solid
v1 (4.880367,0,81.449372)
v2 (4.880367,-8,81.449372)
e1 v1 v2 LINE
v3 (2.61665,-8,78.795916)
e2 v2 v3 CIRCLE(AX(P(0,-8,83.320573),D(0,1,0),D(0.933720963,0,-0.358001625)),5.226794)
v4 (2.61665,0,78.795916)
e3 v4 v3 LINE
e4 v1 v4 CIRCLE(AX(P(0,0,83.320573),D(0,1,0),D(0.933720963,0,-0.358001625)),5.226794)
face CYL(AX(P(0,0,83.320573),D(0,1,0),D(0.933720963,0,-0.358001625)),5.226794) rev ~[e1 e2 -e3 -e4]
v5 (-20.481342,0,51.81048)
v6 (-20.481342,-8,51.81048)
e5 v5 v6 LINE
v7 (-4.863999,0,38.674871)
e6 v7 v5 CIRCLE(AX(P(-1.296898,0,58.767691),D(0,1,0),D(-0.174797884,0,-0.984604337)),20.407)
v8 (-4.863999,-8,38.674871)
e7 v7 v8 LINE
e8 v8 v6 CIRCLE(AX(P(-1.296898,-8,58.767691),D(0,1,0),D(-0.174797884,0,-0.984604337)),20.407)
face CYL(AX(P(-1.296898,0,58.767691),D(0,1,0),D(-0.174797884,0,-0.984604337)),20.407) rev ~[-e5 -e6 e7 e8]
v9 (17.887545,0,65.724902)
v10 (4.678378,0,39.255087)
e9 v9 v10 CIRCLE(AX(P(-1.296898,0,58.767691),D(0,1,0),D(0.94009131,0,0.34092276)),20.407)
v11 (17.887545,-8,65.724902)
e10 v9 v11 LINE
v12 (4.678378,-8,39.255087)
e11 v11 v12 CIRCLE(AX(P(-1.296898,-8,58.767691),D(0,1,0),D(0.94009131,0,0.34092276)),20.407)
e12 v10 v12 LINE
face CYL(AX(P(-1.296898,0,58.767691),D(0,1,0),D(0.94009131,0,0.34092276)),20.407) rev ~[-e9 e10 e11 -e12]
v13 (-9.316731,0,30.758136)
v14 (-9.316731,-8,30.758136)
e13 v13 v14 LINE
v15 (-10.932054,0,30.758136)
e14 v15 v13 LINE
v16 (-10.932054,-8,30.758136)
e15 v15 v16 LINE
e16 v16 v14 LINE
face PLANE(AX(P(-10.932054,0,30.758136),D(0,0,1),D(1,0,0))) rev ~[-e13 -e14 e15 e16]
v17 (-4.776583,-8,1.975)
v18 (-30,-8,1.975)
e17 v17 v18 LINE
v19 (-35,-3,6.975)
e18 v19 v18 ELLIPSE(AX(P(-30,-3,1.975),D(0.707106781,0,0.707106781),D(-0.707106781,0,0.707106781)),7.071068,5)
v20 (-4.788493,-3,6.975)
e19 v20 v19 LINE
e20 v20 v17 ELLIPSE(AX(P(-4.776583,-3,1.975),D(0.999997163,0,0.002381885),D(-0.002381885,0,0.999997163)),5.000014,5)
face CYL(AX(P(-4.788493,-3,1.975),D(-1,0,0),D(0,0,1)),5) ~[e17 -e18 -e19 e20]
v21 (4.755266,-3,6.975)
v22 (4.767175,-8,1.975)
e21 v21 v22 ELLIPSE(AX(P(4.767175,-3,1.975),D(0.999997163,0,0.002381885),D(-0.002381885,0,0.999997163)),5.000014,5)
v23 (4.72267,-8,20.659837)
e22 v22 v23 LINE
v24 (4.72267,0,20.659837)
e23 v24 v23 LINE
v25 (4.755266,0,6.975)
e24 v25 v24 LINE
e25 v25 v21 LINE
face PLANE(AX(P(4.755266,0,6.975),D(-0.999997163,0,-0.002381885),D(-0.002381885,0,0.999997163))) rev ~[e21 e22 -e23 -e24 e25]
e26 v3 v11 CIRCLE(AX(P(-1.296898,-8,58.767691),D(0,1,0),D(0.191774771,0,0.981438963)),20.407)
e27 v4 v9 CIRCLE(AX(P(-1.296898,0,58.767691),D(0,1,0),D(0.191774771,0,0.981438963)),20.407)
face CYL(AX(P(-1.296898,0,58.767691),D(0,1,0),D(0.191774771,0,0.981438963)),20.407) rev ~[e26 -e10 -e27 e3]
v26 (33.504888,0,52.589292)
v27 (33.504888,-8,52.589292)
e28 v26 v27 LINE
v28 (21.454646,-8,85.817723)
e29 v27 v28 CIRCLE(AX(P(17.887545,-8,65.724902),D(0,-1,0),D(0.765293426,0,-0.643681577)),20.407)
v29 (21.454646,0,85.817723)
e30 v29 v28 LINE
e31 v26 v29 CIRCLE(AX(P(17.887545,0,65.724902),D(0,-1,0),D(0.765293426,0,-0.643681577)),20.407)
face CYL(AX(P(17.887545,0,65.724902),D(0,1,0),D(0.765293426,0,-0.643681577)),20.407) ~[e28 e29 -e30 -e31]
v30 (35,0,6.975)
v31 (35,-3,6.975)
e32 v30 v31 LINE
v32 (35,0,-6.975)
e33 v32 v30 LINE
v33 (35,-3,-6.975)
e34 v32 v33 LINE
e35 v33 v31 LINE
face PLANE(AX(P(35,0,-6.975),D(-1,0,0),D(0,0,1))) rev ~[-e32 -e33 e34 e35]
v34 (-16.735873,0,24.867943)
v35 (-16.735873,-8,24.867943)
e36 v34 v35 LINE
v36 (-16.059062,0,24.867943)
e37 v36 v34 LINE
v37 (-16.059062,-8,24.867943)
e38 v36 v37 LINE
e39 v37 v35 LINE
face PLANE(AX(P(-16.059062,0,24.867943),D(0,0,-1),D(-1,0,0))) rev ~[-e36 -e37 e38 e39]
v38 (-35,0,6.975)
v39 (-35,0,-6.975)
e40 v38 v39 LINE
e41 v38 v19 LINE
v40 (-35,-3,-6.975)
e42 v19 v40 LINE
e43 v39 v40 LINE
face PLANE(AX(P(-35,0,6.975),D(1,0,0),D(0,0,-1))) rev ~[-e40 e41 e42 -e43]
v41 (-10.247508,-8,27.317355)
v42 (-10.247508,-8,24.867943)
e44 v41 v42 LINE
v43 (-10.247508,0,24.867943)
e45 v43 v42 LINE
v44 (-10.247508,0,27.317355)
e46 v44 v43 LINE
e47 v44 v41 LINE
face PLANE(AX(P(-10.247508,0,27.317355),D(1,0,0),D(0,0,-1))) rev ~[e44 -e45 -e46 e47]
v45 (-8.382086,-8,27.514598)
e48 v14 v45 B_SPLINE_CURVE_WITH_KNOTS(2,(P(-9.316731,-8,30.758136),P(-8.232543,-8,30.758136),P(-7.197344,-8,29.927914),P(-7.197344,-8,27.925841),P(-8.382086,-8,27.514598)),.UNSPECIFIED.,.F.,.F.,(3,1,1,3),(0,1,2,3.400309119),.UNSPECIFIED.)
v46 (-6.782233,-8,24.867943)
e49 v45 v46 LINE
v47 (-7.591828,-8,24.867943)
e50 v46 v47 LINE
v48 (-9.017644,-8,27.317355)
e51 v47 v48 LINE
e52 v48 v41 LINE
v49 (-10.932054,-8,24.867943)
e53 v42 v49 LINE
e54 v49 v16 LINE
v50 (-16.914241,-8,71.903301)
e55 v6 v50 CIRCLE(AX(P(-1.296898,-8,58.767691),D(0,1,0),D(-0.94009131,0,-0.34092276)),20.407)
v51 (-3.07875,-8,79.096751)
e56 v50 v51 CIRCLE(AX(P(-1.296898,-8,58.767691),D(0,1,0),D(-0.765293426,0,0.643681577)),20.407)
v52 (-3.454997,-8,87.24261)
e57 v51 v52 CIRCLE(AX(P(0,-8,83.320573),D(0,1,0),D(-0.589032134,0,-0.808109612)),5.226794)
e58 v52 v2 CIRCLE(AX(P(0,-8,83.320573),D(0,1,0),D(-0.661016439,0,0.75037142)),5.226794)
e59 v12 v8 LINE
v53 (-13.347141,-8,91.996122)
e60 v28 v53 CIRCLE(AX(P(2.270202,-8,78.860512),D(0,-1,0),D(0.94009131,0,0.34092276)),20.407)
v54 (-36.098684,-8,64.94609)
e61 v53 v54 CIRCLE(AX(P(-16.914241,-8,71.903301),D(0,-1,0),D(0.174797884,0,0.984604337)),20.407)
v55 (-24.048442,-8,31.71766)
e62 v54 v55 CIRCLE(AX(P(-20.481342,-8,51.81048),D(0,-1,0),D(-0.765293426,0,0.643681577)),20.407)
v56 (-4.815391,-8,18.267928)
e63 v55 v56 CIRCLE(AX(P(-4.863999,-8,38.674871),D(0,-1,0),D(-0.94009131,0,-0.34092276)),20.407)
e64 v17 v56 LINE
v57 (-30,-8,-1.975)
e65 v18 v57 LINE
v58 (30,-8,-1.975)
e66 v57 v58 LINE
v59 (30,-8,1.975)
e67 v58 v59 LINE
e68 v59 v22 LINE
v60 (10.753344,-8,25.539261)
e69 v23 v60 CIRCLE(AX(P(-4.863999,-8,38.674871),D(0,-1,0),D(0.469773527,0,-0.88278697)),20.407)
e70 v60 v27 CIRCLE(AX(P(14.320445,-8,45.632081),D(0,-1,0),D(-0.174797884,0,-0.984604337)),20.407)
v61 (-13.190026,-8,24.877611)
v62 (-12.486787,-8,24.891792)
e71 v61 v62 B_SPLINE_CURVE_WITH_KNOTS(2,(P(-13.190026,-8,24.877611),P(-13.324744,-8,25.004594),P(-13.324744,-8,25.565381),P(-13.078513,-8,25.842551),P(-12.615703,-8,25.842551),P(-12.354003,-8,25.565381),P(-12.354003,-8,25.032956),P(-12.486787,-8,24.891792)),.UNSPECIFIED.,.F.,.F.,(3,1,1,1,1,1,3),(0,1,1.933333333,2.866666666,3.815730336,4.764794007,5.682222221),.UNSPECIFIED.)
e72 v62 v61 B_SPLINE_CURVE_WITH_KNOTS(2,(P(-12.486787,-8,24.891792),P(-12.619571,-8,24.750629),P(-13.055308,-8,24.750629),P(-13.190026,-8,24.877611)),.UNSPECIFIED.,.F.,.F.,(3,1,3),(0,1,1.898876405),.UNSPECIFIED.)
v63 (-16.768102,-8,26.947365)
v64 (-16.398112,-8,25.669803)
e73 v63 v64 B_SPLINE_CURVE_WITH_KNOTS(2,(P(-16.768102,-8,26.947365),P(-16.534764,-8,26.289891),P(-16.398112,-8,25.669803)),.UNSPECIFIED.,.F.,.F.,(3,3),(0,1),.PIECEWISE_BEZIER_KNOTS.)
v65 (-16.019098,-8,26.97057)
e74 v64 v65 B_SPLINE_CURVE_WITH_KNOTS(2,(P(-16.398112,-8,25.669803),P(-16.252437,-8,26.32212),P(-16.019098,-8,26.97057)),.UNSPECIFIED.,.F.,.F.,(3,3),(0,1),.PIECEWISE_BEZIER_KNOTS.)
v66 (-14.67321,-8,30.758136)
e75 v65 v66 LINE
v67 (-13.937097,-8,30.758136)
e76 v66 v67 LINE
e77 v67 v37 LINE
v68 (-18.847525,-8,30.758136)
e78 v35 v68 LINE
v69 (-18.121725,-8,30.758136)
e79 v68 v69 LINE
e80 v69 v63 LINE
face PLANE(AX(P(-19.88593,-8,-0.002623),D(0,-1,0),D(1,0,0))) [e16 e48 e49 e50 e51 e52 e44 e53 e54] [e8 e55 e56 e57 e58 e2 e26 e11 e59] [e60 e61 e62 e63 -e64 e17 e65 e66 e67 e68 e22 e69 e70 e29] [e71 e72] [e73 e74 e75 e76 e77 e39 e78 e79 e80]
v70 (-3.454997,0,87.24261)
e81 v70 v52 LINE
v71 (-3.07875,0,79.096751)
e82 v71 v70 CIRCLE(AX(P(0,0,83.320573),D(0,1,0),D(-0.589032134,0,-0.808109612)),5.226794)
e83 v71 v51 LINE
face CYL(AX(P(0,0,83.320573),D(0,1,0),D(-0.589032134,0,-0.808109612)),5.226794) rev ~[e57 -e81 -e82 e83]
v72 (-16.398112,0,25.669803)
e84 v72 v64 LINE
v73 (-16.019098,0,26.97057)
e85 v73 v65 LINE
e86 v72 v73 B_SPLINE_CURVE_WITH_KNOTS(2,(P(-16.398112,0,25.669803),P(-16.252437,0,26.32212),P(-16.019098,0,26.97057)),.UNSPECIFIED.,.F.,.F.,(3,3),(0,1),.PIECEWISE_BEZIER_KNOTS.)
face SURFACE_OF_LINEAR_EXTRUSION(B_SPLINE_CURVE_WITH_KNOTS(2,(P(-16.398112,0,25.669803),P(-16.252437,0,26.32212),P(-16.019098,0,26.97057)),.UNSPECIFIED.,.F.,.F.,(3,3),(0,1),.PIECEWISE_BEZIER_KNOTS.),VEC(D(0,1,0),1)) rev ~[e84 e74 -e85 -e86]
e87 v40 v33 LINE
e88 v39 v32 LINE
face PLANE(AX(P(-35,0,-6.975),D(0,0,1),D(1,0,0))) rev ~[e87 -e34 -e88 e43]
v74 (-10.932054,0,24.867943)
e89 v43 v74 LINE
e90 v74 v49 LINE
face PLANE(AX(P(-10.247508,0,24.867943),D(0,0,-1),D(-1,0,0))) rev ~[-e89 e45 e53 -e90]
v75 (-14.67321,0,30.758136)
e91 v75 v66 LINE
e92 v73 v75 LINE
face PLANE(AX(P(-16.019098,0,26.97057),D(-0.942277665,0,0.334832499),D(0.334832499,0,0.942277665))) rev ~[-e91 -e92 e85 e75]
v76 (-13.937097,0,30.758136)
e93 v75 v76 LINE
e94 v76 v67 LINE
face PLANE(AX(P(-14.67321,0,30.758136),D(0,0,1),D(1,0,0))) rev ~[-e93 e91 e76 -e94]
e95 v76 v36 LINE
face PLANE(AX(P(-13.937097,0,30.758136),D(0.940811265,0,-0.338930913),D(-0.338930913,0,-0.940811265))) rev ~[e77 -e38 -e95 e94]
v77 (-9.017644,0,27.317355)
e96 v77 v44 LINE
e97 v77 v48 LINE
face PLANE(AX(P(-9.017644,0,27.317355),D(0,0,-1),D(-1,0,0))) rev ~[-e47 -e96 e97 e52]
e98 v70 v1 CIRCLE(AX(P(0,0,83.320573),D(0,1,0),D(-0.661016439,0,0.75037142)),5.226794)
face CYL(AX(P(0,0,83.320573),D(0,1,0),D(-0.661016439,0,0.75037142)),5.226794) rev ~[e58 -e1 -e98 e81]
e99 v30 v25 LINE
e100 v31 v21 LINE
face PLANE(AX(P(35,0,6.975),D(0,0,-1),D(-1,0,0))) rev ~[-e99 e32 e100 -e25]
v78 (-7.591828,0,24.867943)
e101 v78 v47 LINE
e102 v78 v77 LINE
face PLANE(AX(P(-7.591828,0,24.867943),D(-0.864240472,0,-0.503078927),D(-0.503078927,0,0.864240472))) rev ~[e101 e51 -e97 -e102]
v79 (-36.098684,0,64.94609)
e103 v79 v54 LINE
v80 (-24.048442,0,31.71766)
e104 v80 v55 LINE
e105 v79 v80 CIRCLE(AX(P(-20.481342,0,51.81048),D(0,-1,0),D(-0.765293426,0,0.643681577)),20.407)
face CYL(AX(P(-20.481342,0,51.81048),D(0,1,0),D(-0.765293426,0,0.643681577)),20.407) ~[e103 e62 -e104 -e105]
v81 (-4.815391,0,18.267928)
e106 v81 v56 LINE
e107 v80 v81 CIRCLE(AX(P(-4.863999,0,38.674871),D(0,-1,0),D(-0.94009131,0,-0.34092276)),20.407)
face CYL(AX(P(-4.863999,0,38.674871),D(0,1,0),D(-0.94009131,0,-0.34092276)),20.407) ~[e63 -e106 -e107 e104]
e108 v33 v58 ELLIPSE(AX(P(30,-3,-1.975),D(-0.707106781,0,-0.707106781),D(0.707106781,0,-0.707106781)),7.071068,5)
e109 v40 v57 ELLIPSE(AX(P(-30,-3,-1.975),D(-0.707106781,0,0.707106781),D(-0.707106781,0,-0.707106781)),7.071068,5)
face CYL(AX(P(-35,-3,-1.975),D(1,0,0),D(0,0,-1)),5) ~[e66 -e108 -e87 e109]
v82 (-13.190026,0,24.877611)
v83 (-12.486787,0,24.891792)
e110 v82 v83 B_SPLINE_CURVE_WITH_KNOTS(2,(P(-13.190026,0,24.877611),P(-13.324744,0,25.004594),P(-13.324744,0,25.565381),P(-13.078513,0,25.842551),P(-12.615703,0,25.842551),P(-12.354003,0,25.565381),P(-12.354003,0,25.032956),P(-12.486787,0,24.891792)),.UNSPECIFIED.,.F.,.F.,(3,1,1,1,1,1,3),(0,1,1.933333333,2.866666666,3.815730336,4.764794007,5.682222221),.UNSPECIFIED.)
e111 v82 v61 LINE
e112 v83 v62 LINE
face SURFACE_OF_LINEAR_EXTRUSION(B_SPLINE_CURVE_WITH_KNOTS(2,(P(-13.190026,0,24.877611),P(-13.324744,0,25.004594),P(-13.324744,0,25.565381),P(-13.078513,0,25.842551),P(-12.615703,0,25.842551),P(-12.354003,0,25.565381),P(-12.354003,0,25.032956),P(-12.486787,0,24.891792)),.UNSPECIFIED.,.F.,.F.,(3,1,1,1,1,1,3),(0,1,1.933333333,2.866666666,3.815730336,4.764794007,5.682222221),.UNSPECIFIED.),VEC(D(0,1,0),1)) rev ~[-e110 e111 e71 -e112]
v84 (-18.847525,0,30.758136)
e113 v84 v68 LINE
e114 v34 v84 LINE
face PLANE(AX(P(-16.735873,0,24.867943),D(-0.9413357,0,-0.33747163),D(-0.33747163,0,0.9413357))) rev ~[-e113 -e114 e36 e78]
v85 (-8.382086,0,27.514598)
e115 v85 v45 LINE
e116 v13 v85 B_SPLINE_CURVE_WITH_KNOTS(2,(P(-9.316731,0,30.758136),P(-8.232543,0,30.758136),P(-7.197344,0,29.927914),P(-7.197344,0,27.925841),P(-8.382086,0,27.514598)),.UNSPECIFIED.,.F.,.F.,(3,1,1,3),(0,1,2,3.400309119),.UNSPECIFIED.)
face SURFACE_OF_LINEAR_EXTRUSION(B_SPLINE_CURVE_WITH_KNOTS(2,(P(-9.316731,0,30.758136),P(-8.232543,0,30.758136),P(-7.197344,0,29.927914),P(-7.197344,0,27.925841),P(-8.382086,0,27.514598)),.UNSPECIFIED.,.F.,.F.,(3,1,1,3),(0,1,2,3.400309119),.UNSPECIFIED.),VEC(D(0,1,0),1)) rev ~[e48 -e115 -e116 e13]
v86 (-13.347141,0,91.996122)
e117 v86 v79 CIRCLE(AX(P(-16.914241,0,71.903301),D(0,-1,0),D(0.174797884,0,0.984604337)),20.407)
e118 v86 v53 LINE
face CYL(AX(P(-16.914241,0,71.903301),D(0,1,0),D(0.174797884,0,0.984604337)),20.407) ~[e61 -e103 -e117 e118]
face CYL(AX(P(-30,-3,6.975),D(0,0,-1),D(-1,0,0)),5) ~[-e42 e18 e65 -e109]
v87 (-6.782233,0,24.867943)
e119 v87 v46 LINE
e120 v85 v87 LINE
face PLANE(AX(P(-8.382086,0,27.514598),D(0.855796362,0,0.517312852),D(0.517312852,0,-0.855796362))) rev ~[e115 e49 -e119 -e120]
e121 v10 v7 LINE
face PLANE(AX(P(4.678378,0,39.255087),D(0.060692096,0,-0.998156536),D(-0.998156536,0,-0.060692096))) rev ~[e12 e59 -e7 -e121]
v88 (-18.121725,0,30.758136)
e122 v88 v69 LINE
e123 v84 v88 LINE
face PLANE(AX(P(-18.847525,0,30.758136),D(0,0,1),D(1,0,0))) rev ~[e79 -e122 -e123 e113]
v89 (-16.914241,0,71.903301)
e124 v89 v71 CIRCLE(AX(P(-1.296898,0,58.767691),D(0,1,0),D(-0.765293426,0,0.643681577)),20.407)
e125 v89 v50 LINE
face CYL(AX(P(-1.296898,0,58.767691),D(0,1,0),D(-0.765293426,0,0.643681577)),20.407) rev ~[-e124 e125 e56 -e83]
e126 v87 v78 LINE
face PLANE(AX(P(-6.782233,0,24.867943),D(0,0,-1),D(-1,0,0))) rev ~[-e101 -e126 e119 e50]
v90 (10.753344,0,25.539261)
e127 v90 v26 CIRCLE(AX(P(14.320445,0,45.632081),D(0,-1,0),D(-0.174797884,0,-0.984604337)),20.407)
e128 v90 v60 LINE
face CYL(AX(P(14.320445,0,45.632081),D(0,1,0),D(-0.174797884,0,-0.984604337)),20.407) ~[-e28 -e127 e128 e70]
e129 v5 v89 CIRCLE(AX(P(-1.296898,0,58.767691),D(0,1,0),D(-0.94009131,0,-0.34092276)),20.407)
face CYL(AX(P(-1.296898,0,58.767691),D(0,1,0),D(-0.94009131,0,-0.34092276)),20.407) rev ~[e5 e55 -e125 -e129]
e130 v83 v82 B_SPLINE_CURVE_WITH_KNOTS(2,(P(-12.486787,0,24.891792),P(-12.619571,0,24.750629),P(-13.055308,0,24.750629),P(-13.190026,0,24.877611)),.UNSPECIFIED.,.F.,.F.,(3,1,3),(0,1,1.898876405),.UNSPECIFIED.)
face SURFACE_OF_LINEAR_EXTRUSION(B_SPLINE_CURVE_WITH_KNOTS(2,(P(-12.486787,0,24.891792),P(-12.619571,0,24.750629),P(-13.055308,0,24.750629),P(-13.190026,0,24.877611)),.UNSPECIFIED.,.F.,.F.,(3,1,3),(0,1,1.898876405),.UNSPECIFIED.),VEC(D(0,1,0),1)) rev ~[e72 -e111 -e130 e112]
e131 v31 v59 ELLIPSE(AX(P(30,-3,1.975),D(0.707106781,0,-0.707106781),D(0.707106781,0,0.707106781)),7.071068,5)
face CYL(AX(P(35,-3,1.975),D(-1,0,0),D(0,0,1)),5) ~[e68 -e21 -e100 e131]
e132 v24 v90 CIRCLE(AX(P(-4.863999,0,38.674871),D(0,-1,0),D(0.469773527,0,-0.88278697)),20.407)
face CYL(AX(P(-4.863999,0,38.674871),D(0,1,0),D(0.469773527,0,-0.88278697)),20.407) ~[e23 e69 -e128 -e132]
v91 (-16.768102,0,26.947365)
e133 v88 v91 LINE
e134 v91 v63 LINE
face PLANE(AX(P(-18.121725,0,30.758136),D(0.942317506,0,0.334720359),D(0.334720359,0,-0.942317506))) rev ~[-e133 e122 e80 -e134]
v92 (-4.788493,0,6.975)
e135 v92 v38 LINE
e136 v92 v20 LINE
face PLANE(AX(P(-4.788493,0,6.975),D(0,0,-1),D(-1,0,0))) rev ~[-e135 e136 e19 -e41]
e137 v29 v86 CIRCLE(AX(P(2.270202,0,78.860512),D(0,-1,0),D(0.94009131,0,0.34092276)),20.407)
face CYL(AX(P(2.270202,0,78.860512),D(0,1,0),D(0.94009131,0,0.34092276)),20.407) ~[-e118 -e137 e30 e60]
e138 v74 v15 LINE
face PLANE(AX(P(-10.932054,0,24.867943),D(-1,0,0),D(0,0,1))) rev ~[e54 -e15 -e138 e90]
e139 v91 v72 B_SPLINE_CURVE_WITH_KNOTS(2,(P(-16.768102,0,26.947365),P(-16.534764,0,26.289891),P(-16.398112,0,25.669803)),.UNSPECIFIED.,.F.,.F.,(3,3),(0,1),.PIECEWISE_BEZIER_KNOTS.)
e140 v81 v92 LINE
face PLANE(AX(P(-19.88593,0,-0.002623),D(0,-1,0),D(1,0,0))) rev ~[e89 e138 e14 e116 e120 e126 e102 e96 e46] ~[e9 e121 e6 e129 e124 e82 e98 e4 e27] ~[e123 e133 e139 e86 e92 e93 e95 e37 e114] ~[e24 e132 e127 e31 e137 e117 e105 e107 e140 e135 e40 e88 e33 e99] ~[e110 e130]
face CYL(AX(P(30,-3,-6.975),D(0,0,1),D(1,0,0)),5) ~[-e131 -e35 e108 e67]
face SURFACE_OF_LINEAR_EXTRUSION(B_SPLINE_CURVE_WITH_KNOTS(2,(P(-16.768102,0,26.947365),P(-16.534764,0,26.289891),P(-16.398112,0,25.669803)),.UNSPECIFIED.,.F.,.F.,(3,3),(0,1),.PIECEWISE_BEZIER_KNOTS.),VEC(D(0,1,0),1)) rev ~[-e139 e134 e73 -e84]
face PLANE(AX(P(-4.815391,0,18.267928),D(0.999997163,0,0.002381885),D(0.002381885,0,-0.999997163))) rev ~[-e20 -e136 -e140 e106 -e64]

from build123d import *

# Parameters (mm, degrees)
F1_DEPTH = 8
F2_R     = 5


with BuildPart() as f1:
    # F0 (on Front) → F1 (new body)
    with BuildSketch(Plane.XZ):
        Polygon((-4.7884929424, 6.975), (-35, 6.975), (-35, -6.975), (-4.7552655505, -6.975), align=None)
        with BuildLine():
            Line((-4.815391477, 18.2679283934), (-4.7884929424, 6.975))
            Line((-4.7884929424, 6.975), (4.7552655505, 6.975))
            Line((4.7552655505, 6.975), (4.7226697487, 20.6598368154))
            ThreePointArc((4.7226697487, 20.6598368154), (0.0998647972, 18.880787826), (-4.815391477, 18.2679283934))
        make_face()
        Polygon((4.7552655505, 6.975), (-4.7884929424, 6.975), (-4.7552655505, -6.975), (4.7884929424, -6.975), align=None)
        Polygon((35, 6.975), (4.7552655505, 6.975), (4.7884929424, -6.975), (35, -6.975), align=None)
        with BuildLine():
            ThreePointArc((-24.048441977, 31.7176597434), (-16.5588212007, 21.9513310022), (-4.815391477, 18.2679283934))
            Line((-4.815391477, 18.2679283934), (-4.863998607, 38.674870505))
            ThreePointArc((-4.863998607, 38.674870505), (-13.5241307894, 32.6260370701), (-24.048441977, 31.7176597434))
        make_face()
        with BuildLine():
            add(Edge.make_bspline(
                [(-13.1900259225, 24.8776112918), (-13.3247436315, 25.0045940128), (-13.3247436315, 25.2946560658)],
                knots=[0, 0, 0, 1, 1, 1], degree=2))
            add(Edge.make_bspline(
                [(-13.3247436315, 25.2946560658), (-13.3247436315, 25.5653806485), (-13.2016284046, 25.7039658516)],
                knots=[0, 0, 0, 1, 1, 1], degree=2))
            add(Edge.make_bspline(
                [(-13.2016284046, 25.7039658516), (-13.0785131777, 25.8425510547), (-12.8490418647, 25.8425510547)],
                knots=[0, 0, 0, 1, 1, 1], degree=2))
            add(Edge.make_bspline(
                [(-12.8490418647, 25.8425510547), (-12.6157030576, 25.8425510547), (-12.4848528426, 25.7039658516)],
                knots=[0, 0, 0, 1, 1, 1], degree=2))
            add(Edge.make_bspline(
                [(-12.4848528426, 25.7039658516), (-12.3540026276, 25.5653806485), (-12.3540026276, 25.2946560658)],
                knots=[0, 0, 0, 1, 1, 1], degree=2))
            add(Edge.make_bspline(
                [(-12.3540026276, 25.2946560658), (-12.3540026276, 25.0329556358), (-12.4867865897, 24.8917921033)],
                knots=[0, 0, 0, 1, 1, 1], degree=2))
            add(Edge.make_bspline(
                [(-12.4867865897, 24.8917921033), (-12.6195705517, 24.7506285709), (-12.8490418647, 24.7506285709)],
                knots=[0, 0, 0, 1, 1, 1], degree=2))
            add(Edge.make_bspline(
                [(-12.8490418647, 24.7506285709), (-13.0553082135, 24.7506285709), (-13.1900259225, 24.8776112918)],
                knots=[0, 0, 0, 1, 1, 1], degree=2))
        make_face(mode=Mode.SUBTRACT)
        with BuildLine():
            Line((-16.0190978123, 26.9705701495), (-14.6732098866, 30.7581359787))
            Line((-14.6732098866, 30.7581359787), (-13.9370968544, 30.7581359787))
            Line((-13.9370968544, 30.7581359787), (-16.0590619174, 24.8679425567))
            Line((-16.0590619174, 24.8679425567), (-16.7358733743, 24.8679425567))
            Line((-16.7358733743, 24.8679425567), (-18.8475251198, 30.7581359787))
            Line((-18.8475251198, 30.7581359787), (-18.1217254051, 30.7581359787))
            Line((-18.1217254051, 30.7581359787), (-16.7681024913, 26.9473651853))
            add(Edge.make_bspline(
                [(-16.7681024913, 26.9473651853), (-16.5347636842, 26.2898911986), (-16.3981122282, 25.6698029876)],
                knots=[0, 0, 0, 1, 1, 1], degree=2))
            add(Edge.make_bspline(
                [(-16.3981122282, 25.6698029876), (-16.2524366193, 26.3221203156), (-16.0190978123, 26.9705701495)],
                knots=[0, 0, 0, 1, 1, 1], degree=2))
        make_face(mode=Mode.SUBTRACT)
        with BuildLine():
            Line((-9.0176444363, 27.3173554484), (-10.2475075409, 27.3173554484))
            Line((-10.2475075409, 27.3173554484), (-10.2475075409, 24.8679425567))
            Line((-10.2475075409, 24.8679425567), (-10.9320539858, 24.8679425567))
            Line((-10.9320539858, 24.8679425567), (-10.9320539858, 30.7581359787))
            Line((-10.9320539858, 30.7581359787), (-9.316730642, 30.7581359787))
            add(Edge.make_bspline(
                [(-9.316730642, 30.7581359787), (-8.2325431463, 30.7581359787), (-7.7149435274, 30.3430249518)],
                knots=[0, 0, 0, 1, 1, 1], degree=2))
            add(Edge.make_bspline(
                [(-7.7149435274, 30.3430249518), (-7.1973439085, 29.9279139249), (-7.1973439085, 29.0938243771)],
                knots=[0, 0, 0, 1, 1, 1], degree=2))
            add(Edge.make_bspline(
                [(-7.1973439085, 29.0938243771), (-7.1973439085, 27.9258411772), (-8.3820862492, 27.5145976444)],
                knots=[0, 0, 0, 1, 1, 1], degree=2))
            Line((-8.3820862492, 27.5145976444), (-6.7822328816, 24.8679425567))
            Line((-6.7822328816, 24.8679425567), (-7.5918283005, 24.8679425567))
            Line((-7.5918283005, 24.8679425567), (-9.0176444363, 27.3173554484))
        make_face(mode=Mode.SUBTRACT)
        with BuildLine():
            Line((-4.863998607, 38.674870505), (-4.815391477, 18.2679283934))
            ThreePointArc((-4.815391477, 18.2679283934), (0.0998647972, 18.880787826), (4.7226697487, 20.6598368154))
            Line((4.7226697487, 20.6598368154), (4.7060632326, 27.6318224688))
            Line((4.7060632326, 27.6318224688), (4.6783778732, 39.2550869399))
            Line((4.6783778732, 39.2550869399), (-4.863998607, 38.674870505))
        make_face()
        with BuildLine():
            Line((4.7060632326, 27.6318224688), (4.7226697487, 20.6598368154))
            ThreePointArc((4.7226697487, 20.6598368154), (7.9719953336, 22.8103532241), (10.7533443371, 25.5392605699))
            ThreePointArc((10.7533443371, 25.5392605699), (7.6471719178, 26.3470332103), (4.7060632326, 27.6318224688))
        make_face()
        with BuildLine():
            ThreePointArc((-24.048441977, 31.7176597434), (-13.5241307894, 32.6260370701), (-4.863998607, 38.674870505))
            ThreePointArc((-4.863998607, 38.674870505), (-14.4325081161, 43.1503482577), (-20.481341551, 51.8104804401))
            ThreePointArc((-20.481341551, 51.8104804401), (-24.9568193037, 42.241970931), (-24.048441977, 31.7176597434))
        make_face()
        with BuildLine():
            ThreePointArc((-36.0986844951, 64.9460903753), (-39.6657849211, 44.8532696785), (-24.048441977, 31.7176597434))
            ThreePointArc((-24.048441977, 31.7176597434), (-24.9568193037, 42.241970931), (-20.481341551, 51.8104804401))
            ThreePointArc((-20.481341551, 51.8104804401), (-30.0498510602, 56.2859581928), (-36.0986844951, 64.9460903753))
        make_face()
        with BuildLine():
            Line((4.6783778732, 39.2550869399), (4.7060632326, 27.6318224688))
            ThreePointArc((4.7060632326, 27.6318224688), (7.6471719178, 26.3470332103), (10.7533443371, 25.5392605699))
            ThreePointArc((10.7533443371, 25.5392605699), (15.2288220897, 35.107770079), (14.3204447631, 45.6320812666))
            ThreePointArc((14.3204447631, 45.6320812666), (9.9604022486, 41.7465620958), (4.6783778732, 39.2550869399))
        make_face()
        with BuildLine():
            ThreePointArc((14.3204447631, 45.6320812666), (15.2288220897, 35.107770079), (10.7533443371, 25.5392605699))
            ThreePointArc((10.7533443371, 25.5392605699), (29.9377877071, 32.4964713315), (33.5048881331, 52.5892920282))
            ThreePointArc((33.5048881331, 52.5892920282), (24.8447559507, 46.5404585933), (14.3204447631, 45.6320812666))
        make_face()
        with BuildLine():
            ThreePointArc((-36.0986844951, 64.9460903753), (-30.0498510602, 56.2859581928), (-20.481341551, 51.8104804401))
            ThreePointArc((-20.481341551, 51.8104804401), (-21.3897188777, 62.3347916277), (-16.914241125, 71.9033011369))
            ThreePointArc((-16.914241125, 71.9033011369), (-27.4385523126, 70.9949238102), (-36.0986844951, 64.9460903753))
        make_face()
        with BuildLine():
            ThreePointArc((-13.347140699, 91.9961218336), (-32.5315840691, 85.038911072), (-36.0986844951, 64.9460903753))
            ThreePointArc((-36.0986844951, 64.9460903753), (-27.4385523126, 70.9949238102), (-16.914241125, 71.9033011369))
            ThreePointArc((-16.914241125, 71.9033011369), (-17.8226184517, 82.4276123244), (-13.347140699, 91.9961218336))
        make_face()
        with BuildLine():
            ThreePointArc((17.8875451891, 65.7249019633), (18.7959225157, 55.2005907757), (14.3204447631, 45.6320812666))
            ThreePointArc((14.3204447631, 45.6320812666), (24.8447559507, 46.5404585933), (33.5048881331, 52.5892920282))
            ThreePointArc((33.5048881331, 52.5892920282), (27.4560546982, 61.2494242106), (17.8875451891, 65.7249019633))
        make_face()
        with BuildLine():
            ThreePointArc((17.8875451891, 65.7249019633), (27.4560546982, 61.2494242106), (33.5048881331, 52.5892920282))
            ThreePointArc((33.5048881331, 52.5892920282), (37.0719885591, 72.6821127249), (21.4546456151, 85.81772266))
            ThreePointArc((21.4546456151, 85.81772266), (22.3630229418, 75.2934114724), (17.8875451891, 65.7249019633))
        make_face()
        with BuildLine():
            ThreePointArc((-13.347140699, 91.9961218336), (-17.8226184517, 82.4276123244), (-16.914241125, 71.9033011369))
            ThreePointArc((-16.914241125, 71.9033011369), (-10.710686982, 76.8736634045), (-3.078749577, 79.0967505652))
            ThreePointArc((-3.078749577, 79.0967505652), (-5.2212274005, 83.0794109578), (-3.4549967043, 87.2426097465))
            ThreePointArc((-3.4549967043, 87.2426097465), (-8.0755153119, 90.296848239), (-13.347140699, 91.9961218336))
        make_face()
        with BuildLine():
            ThreePointArc((2.6166495696, 78.7959161107), (11.9730736035, 74.2710294822), (17.8875451891, 65.7249019633))
            ThreePointArc((17.8875451891, 65.7249019633), (22.3630229418, 75.2934114724), (21.4546456151, 85.81772266))
            ThreePointArc((21.4546456151, 85.81772266), (12.6866425633, 85.4580279417), (4.880367051, 81.4493722528))
            ThreePointArc((4.880367051, 81.4493722528), (3.9763704464, 79.9282503523), (2.6166495696, 78.7959161107))
        make_face()
        with BuildLine():
            ThreePointArc((21.4546456151, 85.81772266), (5.837302671, 98.9533325952), (-13.347140699, 91.9961218336))
            ThreePointArc((-13.347140699, 91.9961218336), (-8.0755153119, 90.296848239), (-3.4549967043, 87.2426097465))
            ThreePointArc((-3.4549967043, 87.2426097465), (2.1518386227, 88.0838664996), (5.2267939203, 83.3205729723))
            ThreePointArc((5.2267939203, 83.3205729723), (5.1394575354, 82.3690736675), (4.880367051, 81.4493722528))
            ThreePointArc((4.880367051, 81.4493722528), (12.6866425633, 85.4580279417), (21.4546456151, 85.81772266))
        make_face()
    extrude(amount=F1_DEPTH)

    # F2
    f2_edges = [f1.edges().sort_by_distance(p)[0] for p in [
        (-19.894246, -8, 6.975),
        (-35, -8, 0),
        (0, -8, -6.975),
        (35, -8, 0),
        (19.877633, -8, 6.975),
    ]]
    fillet(f2_edges, radius=F2_R)


solid = f1.part
